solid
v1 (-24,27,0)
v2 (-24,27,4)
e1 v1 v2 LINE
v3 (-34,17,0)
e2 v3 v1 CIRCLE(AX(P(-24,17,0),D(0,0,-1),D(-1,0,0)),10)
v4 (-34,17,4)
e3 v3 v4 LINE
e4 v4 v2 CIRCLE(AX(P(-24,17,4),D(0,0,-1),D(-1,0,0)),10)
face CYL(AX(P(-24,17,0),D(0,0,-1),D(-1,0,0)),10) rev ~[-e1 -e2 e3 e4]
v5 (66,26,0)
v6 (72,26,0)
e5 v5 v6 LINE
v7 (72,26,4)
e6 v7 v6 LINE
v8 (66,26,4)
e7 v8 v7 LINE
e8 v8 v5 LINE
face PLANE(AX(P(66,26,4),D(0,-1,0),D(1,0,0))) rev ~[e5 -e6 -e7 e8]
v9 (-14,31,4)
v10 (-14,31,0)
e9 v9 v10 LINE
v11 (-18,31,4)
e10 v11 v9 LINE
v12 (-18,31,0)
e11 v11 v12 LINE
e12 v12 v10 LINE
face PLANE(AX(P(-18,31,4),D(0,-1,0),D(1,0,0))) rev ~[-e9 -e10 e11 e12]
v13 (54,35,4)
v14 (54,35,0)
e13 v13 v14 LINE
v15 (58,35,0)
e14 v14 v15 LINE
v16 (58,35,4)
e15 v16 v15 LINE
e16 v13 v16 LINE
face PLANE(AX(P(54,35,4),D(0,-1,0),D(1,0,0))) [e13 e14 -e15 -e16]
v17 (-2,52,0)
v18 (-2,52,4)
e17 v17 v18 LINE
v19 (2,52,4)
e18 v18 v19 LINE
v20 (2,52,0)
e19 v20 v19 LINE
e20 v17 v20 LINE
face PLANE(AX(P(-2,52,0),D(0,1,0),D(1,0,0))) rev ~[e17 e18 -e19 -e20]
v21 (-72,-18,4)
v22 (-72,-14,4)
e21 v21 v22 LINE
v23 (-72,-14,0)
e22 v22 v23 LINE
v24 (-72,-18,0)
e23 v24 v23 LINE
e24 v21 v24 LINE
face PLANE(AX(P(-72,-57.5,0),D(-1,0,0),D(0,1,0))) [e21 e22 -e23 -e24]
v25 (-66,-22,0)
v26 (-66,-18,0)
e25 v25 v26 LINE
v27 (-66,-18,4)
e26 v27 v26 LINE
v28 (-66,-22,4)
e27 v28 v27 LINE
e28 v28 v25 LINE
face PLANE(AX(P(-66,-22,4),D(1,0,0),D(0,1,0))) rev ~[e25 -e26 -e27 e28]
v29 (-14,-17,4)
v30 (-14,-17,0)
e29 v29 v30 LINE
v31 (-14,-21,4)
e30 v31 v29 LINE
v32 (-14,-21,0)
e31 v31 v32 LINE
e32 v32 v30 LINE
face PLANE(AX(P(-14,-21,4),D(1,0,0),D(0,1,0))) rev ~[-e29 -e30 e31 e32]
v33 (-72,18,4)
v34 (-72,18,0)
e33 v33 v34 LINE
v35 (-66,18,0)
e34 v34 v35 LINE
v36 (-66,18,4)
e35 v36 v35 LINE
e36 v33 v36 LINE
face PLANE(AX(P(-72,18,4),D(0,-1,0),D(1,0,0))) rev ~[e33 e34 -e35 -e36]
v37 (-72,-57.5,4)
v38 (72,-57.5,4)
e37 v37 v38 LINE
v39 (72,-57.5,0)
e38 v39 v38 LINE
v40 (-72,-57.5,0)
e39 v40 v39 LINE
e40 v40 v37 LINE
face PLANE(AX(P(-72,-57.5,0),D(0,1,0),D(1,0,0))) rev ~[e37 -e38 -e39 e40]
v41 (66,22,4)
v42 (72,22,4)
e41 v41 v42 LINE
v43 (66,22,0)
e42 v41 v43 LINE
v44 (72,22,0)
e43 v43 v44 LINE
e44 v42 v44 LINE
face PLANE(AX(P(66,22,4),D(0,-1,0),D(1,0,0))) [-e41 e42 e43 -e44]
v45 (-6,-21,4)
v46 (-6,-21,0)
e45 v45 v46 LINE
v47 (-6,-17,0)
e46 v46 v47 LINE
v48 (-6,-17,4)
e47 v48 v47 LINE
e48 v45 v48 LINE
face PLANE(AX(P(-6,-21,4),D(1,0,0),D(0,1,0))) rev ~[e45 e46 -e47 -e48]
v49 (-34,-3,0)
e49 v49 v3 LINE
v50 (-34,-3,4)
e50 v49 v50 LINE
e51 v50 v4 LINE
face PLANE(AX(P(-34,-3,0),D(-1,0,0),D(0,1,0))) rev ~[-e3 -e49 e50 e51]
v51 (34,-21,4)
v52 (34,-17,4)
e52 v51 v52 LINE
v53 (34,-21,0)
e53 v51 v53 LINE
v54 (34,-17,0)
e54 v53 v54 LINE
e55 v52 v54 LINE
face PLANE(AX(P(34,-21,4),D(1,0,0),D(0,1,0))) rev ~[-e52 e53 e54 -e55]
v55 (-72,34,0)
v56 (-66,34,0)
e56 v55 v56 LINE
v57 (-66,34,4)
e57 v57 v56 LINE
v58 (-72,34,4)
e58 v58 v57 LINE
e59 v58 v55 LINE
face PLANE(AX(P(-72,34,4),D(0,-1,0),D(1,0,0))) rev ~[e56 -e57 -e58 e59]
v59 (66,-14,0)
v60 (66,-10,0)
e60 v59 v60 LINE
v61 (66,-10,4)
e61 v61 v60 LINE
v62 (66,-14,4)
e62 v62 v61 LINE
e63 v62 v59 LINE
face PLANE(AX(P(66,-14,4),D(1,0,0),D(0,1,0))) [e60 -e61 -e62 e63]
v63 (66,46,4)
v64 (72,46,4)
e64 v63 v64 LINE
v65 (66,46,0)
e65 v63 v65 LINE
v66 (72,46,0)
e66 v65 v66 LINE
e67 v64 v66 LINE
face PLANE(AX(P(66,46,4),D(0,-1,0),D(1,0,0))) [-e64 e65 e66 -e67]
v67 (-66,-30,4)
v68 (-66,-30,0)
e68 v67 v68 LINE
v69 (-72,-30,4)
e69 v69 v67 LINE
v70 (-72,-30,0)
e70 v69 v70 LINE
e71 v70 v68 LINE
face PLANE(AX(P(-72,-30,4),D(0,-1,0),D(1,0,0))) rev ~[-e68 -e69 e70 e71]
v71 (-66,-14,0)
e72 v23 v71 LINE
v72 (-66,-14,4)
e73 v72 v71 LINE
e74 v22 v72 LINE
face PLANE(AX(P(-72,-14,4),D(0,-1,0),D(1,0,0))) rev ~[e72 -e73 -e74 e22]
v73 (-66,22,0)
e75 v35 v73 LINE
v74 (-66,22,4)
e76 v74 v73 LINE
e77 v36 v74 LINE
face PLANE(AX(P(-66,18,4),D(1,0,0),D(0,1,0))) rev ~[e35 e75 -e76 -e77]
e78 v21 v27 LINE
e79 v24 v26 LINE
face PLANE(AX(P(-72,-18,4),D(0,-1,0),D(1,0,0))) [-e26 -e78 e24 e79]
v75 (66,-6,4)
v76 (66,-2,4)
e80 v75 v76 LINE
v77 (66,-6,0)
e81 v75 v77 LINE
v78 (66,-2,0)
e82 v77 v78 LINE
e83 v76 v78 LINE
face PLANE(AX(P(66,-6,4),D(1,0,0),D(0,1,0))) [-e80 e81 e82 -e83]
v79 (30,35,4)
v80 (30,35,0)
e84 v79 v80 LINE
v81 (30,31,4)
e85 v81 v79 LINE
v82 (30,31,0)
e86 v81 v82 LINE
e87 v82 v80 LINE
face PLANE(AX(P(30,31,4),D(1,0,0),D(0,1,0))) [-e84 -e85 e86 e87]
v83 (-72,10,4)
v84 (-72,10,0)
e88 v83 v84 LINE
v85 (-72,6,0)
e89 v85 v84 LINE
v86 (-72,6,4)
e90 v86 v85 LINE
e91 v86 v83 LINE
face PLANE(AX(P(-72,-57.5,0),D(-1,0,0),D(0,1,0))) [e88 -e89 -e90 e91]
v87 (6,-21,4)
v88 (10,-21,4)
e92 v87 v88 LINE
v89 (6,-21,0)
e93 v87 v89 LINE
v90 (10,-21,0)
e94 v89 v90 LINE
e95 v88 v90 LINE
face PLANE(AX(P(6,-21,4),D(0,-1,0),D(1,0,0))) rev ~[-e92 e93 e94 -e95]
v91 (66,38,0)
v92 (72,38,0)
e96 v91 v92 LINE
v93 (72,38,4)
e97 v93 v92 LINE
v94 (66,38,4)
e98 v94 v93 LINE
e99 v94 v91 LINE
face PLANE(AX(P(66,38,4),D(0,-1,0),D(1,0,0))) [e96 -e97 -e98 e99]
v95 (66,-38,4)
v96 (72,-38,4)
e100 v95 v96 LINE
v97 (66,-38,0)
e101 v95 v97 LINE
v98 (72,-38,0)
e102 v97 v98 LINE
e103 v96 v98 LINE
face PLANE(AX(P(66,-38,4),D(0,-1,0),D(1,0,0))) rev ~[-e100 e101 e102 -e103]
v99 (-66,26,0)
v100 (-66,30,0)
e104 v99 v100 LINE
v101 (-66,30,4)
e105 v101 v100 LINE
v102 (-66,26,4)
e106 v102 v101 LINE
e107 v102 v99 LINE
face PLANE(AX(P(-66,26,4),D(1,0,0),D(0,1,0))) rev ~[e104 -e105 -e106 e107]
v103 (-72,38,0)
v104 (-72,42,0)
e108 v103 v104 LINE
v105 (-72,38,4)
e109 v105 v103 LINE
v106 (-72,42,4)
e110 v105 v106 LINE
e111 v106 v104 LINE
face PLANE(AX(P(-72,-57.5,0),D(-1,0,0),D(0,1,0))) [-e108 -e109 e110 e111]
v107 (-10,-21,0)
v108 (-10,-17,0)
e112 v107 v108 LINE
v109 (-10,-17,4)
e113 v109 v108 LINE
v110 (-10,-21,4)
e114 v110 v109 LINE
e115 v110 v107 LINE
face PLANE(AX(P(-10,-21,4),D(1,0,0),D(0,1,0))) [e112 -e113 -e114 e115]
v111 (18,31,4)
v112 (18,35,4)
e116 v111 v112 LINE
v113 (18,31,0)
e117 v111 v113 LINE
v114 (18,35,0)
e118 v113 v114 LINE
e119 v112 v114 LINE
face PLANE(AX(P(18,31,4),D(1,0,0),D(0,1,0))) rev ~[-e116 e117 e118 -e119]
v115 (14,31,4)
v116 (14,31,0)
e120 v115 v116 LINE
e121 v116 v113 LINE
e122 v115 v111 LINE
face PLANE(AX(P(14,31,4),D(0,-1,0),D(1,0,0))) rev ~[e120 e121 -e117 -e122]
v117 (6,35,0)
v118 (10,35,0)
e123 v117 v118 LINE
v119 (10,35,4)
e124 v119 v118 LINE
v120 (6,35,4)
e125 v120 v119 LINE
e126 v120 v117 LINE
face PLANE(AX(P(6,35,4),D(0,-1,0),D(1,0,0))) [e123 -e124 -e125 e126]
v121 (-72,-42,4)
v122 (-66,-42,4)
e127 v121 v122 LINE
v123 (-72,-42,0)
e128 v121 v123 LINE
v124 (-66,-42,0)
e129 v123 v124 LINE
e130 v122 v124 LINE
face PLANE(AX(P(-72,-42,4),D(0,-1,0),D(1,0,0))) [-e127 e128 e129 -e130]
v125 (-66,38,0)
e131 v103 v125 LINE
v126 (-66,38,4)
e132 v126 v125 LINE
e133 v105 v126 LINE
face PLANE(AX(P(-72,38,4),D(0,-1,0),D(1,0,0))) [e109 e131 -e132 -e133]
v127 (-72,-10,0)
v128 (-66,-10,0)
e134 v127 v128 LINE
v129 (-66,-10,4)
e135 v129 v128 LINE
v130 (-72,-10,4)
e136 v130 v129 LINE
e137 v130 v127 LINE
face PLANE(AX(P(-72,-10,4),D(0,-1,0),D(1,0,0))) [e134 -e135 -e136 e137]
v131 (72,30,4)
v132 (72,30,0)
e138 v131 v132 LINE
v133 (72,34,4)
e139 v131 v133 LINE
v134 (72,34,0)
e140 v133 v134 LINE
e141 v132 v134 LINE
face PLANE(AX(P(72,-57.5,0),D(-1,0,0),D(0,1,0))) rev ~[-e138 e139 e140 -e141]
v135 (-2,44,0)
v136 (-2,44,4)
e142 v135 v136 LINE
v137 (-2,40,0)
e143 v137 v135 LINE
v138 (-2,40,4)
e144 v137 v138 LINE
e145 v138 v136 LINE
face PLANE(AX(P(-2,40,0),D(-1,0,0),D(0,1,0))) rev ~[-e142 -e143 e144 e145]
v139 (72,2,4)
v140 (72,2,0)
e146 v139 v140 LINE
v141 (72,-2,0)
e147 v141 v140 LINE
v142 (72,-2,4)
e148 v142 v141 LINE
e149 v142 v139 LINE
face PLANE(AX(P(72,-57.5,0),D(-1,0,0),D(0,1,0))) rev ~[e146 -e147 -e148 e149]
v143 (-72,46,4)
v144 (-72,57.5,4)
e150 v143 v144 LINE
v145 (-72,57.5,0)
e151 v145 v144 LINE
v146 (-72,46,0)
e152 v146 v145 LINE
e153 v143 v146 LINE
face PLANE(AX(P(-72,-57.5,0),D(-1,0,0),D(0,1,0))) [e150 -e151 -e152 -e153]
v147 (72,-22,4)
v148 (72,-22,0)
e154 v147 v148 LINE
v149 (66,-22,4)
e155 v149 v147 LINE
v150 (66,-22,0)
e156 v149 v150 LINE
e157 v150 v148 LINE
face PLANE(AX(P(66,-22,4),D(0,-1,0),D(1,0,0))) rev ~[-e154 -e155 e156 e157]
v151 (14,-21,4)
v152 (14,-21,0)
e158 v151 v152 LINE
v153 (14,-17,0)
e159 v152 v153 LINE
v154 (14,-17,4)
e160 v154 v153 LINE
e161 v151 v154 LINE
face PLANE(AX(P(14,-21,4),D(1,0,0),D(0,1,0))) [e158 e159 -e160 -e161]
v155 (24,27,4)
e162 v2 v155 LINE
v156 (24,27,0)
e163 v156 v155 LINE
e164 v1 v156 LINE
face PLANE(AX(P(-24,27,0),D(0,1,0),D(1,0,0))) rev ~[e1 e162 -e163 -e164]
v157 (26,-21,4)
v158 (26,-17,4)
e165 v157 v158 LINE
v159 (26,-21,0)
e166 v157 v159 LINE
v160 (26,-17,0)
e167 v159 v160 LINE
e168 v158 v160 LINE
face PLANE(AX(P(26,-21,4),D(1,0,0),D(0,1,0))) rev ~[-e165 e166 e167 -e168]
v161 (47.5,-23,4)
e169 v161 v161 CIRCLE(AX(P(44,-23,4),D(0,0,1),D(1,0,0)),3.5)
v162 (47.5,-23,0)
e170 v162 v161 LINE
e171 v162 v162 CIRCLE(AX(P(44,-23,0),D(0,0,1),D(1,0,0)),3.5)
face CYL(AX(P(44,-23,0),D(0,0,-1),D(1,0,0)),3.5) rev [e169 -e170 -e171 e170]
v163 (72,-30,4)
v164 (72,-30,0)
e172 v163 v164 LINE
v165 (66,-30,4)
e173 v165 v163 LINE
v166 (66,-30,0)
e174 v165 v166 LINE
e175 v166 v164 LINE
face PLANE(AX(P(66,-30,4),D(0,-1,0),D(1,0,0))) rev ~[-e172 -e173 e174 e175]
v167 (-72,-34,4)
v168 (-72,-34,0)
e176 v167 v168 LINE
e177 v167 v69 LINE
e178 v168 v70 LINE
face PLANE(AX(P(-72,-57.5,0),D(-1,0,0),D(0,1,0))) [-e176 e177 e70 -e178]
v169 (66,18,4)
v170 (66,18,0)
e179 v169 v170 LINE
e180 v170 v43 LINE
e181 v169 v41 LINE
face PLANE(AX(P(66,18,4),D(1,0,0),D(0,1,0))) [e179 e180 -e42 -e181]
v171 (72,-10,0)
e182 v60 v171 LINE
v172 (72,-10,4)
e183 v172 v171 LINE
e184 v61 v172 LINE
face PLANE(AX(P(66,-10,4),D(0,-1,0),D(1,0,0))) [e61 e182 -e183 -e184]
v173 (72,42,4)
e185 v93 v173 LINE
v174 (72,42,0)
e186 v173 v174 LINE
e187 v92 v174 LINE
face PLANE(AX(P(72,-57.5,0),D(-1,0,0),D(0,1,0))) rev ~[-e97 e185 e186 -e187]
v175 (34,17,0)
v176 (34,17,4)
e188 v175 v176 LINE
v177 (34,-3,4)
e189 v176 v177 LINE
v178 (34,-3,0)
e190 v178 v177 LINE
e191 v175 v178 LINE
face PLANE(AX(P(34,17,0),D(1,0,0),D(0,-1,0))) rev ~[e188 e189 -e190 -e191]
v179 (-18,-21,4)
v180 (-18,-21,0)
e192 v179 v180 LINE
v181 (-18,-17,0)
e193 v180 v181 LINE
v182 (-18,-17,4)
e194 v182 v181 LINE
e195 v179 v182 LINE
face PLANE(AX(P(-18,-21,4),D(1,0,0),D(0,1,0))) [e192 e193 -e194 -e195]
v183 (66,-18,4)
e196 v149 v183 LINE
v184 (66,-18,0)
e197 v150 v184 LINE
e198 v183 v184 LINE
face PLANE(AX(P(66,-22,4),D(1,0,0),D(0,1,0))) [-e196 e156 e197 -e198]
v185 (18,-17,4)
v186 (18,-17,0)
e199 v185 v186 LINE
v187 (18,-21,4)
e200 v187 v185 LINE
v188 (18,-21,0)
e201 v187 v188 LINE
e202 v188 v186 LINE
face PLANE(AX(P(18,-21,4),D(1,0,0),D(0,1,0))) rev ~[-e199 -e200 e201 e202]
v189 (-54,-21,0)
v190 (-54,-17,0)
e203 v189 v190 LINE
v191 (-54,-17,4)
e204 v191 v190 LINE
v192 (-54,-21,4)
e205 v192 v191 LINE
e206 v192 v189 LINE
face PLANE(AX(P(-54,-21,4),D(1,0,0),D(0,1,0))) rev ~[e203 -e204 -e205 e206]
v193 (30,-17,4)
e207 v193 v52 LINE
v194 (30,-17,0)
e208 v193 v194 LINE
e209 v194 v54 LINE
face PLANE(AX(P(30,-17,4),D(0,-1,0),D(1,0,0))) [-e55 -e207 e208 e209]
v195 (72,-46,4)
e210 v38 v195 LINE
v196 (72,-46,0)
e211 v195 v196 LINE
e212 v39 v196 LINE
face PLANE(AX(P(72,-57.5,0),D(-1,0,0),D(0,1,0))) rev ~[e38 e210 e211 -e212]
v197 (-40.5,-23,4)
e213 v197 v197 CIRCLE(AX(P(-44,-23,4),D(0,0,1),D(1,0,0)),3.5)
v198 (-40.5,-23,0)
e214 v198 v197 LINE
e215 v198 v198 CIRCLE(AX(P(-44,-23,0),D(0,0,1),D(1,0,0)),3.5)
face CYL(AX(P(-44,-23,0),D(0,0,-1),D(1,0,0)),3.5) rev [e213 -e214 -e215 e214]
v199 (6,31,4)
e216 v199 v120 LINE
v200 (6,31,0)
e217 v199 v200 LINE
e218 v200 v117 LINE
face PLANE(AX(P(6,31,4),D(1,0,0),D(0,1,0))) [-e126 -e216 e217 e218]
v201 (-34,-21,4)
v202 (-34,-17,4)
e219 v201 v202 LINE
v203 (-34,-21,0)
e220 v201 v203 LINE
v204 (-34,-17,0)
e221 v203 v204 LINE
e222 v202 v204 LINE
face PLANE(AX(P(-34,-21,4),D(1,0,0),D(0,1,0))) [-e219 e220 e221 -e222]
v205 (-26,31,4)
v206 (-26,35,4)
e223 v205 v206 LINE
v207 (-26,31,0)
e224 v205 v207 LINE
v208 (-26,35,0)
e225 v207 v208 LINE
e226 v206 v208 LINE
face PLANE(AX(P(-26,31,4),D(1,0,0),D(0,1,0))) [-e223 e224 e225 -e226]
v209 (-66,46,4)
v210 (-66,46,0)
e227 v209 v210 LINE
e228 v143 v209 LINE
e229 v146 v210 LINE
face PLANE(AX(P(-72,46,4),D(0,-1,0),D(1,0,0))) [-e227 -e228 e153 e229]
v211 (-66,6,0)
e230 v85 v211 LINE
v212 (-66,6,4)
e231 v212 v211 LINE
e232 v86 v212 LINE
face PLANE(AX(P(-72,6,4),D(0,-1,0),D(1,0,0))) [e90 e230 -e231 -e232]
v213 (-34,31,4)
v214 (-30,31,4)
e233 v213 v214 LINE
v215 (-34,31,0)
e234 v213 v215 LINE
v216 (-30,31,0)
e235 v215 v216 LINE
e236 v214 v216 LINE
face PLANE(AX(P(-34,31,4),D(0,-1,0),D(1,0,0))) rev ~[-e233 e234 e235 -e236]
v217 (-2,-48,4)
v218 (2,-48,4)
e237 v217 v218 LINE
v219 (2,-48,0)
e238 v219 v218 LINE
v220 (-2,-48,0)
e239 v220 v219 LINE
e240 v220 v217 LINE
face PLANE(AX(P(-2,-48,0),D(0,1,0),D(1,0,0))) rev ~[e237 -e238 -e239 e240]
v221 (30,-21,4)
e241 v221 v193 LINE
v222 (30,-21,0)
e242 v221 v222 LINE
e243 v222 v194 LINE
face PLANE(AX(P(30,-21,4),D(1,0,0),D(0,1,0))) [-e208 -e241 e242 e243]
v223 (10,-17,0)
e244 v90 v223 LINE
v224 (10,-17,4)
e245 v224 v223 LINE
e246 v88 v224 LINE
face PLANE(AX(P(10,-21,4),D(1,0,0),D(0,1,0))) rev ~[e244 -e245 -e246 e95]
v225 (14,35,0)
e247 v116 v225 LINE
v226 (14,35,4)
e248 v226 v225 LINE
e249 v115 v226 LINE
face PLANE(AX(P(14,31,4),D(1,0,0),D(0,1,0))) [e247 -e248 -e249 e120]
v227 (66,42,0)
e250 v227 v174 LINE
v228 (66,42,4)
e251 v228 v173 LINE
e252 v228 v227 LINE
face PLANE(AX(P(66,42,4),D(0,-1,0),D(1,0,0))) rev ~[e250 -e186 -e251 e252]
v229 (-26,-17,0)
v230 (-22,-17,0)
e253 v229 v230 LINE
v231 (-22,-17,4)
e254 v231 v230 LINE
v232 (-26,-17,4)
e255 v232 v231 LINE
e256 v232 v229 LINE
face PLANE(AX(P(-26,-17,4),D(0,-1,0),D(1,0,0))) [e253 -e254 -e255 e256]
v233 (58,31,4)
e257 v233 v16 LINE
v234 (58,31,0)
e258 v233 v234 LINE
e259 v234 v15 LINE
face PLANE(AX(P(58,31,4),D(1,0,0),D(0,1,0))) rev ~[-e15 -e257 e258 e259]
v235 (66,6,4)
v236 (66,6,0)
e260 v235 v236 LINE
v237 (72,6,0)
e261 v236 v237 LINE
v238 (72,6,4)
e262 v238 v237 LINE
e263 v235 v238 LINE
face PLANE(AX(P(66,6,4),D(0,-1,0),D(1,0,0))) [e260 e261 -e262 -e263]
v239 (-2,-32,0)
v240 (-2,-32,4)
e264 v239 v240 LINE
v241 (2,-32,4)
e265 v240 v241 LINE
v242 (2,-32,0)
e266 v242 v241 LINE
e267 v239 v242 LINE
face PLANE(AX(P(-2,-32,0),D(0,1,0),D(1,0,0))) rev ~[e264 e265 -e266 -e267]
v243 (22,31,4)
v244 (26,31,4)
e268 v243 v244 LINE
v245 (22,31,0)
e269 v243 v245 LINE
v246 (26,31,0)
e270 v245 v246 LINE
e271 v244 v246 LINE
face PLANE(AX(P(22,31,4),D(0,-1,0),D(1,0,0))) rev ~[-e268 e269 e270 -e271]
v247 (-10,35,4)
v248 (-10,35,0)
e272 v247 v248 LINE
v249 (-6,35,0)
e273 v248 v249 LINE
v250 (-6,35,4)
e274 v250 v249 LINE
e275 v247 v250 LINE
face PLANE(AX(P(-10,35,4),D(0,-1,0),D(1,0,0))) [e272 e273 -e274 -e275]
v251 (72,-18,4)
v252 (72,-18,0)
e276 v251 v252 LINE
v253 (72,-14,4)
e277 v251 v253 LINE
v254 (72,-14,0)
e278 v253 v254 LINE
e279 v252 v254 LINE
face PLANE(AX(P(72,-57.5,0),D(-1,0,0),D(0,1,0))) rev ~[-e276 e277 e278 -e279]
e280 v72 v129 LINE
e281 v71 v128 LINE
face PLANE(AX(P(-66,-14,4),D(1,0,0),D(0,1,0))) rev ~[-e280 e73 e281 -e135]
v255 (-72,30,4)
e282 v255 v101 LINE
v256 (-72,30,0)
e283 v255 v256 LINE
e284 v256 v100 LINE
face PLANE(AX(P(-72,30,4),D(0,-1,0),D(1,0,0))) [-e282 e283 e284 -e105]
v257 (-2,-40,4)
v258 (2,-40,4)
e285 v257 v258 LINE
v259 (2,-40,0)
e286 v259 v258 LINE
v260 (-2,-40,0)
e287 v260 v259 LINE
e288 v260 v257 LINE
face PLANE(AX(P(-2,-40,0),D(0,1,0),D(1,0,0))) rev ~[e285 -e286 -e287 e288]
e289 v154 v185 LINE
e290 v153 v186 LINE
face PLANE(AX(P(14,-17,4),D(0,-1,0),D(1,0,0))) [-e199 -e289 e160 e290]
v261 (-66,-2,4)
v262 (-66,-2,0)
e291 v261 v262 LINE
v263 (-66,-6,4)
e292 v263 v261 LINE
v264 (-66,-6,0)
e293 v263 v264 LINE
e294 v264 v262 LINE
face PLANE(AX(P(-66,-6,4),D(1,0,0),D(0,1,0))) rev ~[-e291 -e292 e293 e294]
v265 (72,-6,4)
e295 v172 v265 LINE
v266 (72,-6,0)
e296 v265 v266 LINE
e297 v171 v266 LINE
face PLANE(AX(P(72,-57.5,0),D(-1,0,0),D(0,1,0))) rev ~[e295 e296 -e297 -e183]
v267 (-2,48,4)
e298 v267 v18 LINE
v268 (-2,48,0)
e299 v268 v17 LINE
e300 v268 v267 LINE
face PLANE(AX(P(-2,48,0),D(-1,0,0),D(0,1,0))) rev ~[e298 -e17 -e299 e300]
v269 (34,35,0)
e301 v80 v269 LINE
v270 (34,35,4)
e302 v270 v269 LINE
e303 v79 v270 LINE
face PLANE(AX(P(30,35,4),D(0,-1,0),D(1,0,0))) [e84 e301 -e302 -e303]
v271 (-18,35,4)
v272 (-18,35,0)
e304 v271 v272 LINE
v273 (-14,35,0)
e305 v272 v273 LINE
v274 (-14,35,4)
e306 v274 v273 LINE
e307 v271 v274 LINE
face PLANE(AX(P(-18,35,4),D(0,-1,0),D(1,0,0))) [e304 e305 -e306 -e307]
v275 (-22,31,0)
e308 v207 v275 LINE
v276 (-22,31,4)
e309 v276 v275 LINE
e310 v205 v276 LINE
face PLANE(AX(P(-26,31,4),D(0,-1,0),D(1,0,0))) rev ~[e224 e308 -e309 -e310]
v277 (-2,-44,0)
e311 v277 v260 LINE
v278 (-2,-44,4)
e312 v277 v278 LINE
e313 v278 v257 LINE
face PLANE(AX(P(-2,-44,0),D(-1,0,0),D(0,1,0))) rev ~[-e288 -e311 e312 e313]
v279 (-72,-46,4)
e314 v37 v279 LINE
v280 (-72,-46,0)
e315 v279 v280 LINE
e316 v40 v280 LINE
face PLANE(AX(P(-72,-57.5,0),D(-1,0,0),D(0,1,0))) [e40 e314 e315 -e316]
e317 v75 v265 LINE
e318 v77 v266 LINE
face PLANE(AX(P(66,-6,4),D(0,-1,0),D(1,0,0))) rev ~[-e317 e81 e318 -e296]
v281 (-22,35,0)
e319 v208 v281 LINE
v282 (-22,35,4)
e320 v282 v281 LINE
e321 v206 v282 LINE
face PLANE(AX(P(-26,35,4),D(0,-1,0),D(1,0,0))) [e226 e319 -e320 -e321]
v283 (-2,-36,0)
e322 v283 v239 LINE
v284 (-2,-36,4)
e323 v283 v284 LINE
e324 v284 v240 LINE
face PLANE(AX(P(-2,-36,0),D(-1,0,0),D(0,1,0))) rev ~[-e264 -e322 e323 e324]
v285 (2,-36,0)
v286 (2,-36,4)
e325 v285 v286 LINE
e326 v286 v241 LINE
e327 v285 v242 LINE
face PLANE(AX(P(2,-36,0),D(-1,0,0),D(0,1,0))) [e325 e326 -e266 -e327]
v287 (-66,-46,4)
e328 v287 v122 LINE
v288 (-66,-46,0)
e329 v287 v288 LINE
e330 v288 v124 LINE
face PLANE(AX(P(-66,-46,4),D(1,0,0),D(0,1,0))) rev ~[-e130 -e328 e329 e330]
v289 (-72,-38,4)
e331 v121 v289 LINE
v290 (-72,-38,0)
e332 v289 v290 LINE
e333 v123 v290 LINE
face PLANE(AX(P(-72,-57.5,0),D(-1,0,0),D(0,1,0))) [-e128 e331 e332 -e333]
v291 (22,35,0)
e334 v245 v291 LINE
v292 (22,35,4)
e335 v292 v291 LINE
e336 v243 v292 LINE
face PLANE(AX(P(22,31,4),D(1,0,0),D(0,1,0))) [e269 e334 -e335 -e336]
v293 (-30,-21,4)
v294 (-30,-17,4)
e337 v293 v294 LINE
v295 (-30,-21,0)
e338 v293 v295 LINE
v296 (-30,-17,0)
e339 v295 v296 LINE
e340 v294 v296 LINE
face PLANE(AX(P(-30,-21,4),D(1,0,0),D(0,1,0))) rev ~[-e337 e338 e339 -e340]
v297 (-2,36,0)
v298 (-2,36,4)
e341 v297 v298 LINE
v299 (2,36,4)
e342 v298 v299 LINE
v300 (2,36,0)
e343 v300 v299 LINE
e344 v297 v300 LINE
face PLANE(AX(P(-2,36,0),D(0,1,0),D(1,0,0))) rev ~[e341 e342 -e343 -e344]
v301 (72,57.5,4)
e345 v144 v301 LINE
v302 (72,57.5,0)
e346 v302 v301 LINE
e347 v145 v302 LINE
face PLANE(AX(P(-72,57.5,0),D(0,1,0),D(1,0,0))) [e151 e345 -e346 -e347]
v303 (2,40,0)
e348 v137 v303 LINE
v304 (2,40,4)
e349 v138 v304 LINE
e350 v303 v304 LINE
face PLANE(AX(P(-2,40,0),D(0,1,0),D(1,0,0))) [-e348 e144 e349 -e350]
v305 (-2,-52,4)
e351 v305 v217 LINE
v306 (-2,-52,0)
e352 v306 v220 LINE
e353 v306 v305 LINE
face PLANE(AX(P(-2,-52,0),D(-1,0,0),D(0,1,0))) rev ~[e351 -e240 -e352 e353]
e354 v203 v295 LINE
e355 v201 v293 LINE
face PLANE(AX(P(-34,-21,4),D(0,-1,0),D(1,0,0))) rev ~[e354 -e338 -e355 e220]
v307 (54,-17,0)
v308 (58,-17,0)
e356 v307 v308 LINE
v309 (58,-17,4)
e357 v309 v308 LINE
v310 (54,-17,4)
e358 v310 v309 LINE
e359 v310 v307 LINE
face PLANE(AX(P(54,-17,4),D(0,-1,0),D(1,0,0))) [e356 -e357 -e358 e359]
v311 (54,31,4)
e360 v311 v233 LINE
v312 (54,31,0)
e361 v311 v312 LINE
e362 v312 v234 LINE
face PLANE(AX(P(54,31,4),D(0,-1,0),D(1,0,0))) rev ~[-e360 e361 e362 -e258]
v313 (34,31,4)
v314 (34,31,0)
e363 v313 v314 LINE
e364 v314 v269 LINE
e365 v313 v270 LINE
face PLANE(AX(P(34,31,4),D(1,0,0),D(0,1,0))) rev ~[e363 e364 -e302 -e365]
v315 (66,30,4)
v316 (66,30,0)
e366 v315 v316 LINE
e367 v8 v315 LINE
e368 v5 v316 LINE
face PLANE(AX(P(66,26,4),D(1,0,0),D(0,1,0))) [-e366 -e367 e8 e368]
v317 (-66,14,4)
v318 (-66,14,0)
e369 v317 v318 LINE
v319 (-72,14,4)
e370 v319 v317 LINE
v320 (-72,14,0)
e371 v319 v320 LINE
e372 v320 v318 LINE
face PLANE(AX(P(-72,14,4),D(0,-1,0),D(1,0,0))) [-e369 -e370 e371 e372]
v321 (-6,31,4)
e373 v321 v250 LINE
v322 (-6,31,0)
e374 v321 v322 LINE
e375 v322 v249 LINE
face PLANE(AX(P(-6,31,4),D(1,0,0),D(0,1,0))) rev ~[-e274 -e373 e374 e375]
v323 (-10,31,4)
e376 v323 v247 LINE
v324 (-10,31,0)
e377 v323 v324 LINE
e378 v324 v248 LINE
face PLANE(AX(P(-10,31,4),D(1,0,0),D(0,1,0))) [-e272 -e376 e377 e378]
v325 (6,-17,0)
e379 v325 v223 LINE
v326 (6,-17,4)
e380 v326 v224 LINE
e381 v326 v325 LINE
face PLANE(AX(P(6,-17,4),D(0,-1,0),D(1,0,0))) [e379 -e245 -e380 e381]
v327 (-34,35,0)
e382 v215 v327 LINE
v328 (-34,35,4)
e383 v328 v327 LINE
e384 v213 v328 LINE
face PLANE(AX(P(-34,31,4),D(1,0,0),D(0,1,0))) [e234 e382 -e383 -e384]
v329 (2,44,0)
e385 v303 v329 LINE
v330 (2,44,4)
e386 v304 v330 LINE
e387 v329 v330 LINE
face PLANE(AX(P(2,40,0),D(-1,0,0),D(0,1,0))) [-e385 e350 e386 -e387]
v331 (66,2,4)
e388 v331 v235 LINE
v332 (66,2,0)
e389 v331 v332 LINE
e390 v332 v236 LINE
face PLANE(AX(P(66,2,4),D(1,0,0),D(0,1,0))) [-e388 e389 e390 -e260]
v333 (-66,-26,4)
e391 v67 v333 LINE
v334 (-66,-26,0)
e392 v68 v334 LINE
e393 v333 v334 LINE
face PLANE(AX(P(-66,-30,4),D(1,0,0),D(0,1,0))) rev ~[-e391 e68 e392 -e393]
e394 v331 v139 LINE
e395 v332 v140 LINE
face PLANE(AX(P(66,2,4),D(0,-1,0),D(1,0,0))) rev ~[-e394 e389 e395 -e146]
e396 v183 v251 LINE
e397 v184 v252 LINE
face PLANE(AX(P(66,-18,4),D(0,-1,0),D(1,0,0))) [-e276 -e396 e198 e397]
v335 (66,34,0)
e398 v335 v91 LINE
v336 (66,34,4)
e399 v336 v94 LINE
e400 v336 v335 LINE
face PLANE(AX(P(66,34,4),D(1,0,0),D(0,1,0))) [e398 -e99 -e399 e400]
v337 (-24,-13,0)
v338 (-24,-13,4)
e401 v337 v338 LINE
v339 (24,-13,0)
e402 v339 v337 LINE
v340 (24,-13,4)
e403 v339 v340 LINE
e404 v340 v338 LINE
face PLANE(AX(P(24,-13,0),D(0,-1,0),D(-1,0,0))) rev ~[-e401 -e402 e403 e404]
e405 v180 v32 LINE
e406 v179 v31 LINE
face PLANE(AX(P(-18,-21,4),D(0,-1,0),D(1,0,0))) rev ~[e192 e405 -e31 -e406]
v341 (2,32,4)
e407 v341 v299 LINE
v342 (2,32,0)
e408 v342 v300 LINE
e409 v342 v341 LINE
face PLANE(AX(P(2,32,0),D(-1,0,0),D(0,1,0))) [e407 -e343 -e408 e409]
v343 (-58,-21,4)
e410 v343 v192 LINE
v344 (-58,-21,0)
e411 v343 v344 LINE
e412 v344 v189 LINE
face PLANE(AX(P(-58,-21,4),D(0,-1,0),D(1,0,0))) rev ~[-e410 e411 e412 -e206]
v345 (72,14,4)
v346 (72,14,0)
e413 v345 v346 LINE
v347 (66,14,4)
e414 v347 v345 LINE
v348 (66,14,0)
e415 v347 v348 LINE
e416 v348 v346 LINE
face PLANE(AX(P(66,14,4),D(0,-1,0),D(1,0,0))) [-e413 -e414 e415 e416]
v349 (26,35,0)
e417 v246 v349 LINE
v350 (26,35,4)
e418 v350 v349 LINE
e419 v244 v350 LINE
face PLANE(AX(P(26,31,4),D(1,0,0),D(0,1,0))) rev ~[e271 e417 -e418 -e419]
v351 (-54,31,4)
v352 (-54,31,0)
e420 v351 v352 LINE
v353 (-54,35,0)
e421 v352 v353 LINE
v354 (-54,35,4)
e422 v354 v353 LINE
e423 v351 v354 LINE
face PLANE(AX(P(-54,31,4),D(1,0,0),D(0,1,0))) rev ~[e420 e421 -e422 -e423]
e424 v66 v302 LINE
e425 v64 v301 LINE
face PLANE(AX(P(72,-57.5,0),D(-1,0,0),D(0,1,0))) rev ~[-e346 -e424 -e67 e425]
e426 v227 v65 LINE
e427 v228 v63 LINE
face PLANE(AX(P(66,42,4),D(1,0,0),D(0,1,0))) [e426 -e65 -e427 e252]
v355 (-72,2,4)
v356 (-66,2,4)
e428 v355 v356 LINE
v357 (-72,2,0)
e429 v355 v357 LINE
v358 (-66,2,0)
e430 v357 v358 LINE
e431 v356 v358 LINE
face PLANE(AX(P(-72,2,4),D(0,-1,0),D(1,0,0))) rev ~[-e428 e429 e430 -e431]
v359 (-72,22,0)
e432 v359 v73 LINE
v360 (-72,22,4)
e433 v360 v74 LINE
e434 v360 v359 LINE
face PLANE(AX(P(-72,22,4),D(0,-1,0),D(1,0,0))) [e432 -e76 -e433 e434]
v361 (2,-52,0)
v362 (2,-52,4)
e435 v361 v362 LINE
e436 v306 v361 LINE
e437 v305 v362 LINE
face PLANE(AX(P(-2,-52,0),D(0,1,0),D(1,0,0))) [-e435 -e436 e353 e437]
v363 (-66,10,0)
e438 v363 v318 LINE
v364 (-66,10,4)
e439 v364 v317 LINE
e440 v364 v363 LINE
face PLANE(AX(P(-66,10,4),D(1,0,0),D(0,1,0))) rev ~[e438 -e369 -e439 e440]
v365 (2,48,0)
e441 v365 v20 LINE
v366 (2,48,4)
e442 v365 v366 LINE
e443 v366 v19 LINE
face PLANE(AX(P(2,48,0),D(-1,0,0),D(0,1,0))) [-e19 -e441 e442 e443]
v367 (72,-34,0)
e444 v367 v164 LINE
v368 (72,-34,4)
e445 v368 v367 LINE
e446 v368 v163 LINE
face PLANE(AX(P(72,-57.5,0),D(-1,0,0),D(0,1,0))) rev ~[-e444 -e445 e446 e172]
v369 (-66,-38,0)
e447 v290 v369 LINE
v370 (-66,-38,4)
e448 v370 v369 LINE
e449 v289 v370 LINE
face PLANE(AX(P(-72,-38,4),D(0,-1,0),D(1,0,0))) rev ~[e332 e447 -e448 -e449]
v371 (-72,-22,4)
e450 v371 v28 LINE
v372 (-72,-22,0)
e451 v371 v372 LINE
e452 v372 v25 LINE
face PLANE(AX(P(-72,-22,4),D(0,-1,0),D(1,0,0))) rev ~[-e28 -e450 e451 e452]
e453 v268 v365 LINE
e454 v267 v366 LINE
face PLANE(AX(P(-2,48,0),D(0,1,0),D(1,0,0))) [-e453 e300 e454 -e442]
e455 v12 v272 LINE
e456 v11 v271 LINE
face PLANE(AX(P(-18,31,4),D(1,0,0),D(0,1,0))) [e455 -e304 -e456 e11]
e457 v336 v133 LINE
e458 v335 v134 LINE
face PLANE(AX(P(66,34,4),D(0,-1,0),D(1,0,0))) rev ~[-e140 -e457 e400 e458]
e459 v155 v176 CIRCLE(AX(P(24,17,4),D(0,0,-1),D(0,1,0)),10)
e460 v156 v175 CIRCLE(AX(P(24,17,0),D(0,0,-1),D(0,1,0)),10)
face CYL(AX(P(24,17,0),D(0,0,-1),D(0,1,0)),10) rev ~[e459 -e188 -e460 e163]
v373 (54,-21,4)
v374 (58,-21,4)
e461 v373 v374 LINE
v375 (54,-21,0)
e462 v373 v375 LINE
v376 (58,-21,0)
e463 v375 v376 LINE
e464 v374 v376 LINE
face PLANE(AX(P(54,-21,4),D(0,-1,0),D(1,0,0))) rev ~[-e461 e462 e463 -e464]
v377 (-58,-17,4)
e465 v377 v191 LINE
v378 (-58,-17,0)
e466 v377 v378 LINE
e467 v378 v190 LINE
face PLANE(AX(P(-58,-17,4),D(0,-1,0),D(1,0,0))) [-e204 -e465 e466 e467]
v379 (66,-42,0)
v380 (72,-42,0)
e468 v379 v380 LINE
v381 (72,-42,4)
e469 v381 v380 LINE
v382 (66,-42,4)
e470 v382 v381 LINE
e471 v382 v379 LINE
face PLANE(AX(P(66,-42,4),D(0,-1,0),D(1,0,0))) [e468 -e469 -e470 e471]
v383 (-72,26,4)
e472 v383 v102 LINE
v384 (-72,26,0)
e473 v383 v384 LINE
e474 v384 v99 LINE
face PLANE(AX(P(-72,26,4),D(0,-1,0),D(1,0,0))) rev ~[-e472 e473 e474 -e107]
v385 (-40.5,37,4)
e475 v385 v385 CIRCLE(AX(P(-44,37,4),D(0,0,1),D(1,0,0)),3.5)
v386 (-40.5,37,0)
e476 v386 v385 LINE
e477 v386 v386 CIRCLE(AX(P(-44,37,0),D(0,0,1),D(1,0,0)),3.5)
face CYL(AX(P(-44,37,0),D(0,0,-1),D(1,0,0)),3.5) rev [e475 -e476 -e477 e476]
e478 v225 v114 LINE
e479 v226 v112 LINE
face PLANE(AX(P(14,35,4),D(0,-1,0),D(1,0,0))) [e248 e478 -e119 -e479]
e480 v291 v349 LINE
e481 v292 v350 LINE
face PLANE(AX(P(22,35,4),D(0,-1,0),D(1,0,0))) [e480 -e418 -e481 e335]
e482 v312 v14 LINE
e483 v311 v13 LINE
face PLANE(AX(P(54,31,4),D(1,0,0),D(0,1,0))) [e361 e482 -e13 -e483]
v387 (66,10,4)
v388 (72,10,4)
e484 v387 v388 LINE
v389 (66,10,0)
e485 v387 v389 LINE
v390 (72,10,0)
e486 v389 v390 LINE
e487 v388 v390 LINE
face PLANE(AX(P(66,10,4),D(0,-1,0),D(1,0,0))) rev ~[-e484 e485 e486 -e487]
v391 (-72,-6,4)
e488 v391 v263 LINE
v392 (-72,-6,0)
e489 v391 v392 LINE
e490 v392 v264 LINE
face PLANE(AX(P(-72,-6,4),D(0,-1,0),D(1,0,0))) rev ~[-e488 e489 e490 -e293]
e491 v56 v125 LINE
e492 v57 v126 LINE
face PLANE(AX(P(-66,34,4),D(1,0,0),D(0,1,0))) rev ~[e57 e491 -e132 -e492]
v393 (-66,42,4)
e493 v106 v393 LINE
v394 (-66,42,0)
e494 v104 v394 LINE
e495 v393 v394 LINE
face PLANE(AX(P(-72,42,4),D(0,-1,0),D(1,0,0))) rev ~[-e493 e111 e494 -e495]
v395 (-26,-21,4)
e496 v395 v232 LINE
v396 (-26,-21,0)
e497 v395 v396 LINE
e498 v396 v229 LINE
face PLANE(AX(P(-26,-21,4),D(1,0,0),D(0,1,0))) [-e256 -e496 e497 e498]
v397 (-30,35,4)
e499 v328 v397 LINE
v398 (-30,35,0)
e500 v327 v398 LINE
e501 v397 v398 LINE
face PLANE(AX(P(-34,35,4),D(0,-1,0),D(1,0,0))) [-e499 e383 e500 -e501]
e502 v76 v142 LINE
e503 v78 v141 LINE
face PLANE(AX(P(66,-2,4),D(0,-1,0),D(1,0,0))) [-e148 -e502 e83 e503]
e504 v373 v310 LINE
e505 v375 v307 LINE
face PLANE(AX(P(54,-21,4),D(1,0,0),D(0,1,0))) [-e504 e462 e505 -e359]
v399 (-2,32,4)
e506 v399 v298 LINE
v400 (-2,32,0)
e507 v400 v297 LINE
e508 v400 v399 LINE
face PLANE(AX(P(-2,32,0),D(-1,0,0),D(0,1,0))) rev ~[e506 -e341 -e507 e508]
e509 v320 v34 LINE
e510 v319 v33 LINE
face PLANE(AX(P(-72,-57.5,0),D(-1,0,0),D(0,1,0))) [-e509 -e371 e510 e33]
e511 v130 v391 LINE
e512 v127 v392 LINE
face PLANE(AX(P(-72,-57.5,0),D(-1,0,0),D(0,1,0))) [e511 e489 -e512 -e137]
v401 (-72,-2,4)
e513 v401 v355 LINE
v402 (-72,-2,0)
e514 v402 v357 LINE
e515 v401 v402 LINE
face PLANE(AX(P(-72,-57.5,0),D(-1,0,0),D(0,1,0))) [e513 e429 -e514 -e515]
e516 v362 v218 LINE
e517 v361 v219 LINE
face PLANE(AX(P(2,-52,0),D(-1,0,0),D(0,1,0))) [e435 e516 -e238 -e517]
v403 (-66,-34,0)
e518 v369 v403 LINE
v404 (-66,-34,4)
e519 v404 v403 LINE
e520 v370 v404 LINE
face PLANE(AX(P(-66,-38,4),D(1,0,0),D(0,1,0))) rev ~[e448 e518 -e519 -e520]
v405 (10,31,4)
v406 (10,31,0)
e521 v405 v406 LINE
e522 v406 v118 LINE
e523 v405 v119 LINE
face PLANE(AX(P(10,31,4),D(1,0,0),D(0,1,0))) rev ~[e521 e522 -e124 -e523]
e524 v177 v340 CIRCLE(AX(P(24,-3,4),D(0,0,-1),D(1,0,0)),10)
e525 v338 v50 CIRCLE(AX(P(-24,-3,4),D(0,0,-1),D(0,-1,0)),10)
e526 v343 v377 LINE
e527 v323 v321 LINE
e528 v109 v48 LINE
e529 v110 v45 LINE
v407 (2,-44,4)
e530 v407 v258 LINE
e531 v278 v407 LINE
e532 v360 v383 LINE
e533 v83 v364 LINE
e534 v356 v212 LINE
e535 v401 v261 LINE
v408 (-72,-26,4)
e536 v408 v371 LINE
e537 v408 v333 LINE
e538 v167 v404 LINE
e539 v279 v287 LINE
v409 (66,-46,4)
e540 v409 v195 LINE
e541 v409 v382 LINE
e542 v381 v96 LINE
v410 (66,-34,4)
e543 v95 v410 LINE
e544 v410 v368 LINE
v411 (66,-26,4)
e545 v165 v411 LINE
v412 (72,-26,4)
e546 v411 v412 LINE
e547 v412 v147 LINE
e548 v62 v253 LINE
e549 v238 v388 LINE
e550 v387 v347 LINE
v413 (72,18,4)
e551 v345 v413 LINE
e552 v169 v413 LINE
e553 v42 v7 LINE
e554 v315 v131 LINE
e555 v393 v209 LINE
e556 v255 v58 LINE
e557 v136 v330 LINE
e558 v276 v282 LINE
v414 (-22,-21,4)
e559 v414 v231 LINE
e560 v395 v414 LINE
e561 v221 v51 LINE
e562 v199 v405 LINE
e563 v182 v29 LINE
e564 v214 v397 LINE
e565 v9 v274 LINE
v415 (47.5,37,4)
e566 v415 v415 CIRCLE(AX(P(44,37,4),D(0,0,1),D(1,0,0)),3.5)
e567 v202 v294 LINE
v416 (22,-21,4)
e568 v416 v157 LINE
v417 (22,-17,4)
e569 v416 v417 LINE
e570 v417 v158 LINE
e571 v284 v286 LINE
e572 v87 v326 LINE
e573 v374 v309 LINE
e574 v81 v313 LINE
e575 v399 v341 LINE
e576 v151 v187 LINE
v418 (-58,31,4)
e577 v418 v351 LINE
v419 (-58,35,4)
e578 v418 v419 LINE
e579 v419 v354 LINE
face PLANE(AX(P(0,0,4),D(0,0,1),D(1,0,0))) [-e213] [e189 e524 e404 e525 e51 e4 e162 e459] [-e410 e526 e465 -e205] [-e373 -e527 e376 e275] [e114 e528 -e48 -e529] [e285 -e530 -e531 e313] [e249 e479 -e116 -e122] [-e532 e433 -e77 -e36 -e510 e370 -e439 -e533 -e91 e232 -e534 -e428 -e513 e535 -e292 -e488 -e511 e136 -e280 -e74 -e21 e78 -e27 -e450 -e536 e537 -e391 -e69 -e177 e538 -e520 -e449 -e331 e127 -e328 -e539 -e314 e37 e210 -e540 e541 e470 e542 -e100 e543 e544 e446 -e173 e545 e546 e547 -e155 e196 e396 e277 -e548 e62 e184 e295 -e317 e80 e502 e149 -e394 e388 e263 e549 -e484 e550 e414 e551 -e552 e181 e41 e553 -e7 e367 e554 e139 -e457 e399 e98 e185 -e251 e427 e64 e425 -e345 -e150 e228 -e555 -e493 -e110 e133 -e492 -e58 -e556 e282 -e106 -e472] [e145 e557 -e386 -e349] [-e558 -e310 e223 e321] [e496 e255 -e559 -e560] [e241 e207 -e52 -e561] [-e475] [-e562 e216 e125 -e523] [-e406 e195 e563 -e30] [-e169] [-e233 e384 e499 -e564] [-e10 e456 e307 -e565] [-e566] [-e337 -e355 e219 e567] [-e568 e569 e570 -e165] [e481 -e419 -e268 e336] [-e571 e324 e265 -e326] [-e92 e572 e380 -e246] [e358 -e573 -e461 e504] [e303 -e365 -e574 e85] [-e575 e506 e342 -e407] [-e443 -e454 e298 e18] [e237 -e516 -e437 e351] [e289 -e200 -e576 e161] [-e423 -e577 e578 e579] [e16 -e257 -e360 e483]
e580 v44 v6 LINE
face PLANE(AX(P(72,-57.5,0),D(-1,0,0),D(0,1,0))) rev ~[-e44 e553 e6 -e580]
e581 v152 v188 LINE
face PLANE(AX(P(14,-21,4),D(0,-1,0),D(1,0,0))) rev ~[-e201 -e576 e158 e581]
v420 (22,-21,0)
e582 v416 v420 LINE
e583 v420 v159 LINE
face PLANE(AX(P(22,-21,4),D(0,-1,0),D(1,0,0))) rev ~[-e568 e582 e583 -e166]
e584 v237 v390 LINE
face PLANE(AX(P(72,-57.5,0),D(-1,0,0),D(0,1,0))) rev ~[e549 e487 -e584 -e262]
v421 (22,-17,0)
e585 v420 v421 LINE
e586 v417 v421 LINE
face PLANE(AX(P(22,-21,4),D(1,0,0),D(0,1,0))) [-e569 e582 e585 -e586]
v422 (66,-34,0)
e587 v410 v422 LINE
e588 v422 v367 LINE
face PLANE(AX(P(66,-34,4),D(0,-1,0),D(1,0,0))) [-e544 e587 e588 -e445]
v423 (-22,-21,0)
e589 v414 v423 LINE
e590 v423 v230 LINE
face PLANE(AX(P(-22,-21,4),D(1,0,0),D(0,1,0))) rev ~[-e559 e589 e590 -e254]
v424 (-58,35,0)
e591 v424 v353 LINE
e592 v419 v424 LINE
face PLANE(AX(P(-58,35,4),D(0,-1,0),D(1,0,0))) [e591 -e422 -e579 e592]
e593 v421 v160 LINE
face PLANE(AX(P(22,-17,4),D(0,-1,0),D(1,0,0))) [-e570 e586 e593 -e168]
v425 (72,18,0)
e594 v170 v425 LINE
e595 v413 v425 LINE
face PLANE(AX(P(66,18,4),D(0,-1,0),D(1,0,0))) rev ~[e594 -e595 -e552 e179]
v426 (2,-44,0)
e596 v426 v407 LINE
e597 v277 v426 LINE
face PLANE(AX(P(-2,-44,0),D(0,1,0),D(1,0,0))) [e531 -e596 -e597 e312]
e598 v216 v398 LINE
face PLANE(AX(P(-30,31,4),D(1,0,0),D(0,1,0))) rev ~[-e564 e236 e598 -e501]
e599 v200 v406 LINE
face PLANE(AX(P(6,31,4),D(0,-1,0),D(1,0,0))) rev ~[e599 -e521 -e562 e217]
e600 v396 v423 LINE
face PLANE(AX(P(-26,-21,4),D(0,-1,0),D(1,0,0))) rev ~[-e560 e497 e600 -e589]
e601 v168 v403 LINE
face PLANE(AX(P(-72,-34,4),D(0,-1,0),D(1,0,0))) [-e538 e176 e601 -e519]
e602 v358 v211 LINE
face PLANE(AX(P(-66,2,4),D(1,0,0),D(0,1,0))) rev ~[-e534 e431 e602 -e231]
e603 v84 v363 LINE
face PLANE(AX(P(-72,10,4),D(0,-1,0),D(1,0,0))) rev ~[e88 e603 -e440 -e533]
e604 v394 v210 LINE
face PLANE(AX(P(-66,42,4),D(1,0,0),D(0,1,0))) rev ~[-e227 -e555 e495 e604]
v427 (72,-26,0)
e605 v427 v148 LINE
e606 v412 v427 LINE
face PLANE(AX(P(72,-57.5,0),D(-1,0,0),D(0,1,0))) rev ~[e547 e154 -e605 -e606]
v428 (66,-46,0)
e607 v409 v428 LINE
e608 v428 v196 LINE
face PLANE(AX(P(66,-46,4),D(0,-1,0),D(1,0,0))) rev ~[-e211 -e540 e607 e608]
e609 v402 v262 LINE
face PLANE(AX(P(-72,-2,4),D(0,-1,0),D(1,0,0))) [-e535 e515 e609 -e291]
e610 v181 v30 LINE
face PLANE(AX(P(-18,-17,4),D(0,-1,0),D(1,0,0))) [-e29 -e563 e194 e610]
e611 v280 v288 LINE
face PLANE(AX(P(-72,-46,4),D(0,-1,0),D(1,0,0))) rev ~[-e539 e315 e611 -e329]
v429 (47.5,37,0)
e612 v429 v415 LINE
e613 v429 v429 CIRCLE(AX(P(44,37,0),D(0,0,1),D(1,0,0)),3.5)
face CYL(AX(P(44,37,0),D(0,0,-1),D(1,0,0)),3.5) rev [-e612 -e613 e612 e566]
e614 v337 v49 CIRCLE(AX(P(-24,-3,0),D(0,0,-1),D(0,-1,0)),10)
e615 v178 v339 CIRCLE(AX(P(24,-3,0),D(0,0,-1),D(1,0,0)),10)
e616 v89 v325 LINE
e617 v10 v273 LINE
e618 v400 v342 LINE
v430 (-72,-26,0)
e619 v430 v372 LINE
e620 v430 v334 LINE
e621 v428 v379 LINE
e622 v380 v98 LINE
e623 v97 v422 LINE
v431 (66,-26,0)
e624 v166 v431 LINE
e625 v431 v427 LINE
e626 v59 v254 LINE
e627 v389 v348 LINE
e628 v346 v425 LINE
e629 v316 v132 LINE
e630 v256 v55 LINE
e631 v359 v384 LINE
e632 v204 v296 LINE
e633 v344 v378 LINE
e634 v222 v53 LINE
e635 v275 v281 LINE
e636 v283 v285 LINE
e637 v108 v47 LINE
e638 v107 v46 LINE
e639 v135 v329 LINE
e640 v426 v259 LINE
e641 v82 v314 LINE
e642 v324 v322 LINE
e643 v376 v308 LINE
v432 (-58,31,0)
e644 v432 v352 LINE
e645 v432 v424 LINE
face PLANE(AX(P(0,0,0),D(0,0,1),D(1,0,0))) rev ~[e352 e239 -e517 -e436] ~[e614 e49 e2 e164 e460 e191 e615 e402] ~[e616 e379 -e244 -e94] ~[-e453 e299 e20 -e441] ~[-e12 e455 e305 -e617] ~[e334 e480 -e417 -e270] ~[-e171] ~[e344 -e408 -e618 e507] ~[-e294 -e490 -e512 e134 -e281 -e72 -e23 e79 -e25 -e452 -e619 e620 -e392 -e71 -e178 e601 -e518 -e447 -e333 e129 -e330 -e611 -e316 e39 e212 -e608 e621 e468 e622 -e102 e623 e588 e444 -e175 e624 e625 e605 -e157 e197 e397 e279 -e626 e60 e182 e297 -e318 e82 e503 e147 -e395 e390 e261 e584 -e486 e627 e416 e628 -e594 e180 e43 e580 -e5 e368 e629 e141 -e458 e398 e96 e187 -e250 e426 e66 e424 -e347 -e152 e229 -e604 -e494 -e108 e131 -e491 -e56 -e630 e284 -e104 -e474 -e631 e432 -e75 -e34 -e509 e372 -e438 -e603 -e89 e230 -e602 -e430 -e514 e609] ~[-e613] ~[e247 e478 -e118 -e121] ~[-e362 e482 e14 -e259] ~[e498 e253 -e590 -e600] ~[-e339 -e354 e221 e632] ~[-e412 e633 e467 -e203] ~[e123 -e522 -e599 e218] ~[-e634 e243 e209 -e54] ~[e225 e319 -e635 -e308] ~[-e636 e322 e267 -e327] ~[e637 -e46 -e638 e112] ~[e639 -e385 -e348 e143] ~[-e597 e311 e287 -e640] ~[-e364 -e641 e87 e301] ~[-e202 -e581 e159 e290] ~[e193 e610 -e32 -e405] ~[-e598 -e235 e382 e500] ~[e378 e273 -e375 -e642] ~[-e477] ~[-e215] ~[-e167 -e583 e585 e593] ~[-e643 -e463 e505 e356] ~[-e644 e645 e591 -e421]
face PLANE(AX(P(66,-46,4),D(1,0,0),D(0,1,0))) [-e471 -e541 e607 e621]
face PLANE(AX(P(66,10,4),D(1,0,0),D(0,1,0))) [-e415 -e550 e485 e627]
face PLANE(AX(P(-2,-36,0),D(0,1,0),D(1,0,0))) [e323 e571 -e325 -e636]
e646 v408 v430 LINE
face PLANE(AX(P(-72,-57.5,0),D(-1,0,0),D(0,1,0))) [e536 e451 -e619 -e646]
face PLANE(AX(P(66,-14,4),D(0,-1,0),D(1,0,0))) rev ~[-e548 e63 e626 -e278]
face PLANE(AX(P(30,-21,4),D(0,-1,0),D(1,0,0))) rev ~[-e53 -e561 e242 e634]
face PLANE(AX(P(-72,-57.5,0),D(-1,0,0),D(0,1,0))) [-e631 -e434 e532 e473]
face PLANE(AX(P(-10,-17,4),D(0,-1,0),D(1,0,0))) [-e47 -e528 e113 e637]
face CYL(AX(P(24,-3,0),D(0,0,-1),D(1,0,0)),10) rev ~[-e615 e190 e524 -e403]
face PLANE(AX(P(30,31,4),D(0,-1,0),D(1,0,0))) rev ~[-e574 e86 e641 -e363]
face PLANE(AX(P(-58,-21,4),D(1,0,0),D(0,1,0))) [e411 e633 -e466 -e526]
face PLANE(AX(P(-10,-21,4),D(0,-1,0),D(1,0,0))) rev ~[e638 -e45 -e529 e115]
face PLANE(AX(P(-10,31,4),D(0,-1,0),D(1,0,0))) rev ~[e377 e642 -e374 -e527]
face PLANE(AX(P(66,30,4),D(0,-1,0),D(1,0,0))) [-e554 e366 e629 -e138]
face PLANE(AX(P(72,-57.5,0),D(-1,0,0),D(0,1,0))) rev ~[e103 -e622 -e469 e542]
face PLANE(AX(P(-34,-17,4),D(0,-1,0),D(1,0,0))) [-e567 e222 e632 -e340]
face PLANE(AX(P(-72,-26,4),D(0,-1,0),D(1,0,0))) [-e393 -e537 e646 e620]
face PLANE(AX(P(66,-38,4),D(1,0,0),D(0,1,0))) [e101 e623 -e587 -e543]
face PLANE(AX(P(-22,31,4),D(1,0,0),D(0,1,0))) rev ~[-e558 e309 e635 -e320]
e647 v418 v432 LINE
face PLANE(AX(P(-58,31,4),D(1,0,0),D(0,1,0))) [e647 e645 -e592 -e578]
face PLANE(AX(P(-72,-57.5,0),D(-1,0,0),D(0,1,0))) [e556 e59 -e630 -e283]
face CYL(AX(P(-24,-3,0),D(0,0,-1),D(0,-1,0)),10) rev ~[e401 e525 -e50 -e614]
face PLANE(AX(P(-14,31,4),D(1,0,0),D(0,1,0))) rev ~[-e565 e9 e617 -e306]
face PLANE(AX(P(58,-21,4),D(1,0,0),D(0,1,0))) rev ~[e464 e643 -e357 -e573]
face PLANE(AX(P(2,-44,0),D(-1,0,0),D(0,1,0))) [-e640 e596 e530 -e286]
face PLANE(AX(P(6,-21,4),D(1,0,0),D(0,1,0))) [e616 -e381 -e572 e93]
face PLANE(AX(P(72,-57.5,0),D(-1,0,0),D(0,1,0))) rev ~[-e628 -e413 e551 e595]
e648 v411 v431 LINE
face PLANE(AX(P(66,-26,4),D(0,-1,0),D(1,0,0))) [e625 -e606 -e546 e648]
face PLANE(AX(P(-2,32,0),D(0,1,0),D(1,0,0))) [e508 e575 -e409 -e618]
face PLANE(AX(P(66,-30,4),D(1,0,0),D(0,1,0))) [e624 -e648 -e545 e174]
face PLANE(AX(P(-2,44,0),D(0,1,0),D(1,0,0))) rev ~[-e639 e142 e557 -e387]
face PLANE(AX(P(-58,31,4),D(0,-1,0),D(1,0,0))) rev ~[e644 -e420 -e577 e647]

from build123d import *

# Parameters (mm, degrees)
SKETCH1_W           = 144
SKETCH1_H           = 115
SKETCH1_R           = 3.5
SKETCH1_W_2         = 4
SKETCH1_H_2         = 4
BOSS_EXTRUDE1_DEPTH = 4
SKETCH2_W           = 6
SKETCH2_H           = 4
CUT_EXTRUDE1_DEPTH  = 4
SKETCH4_W           = 4
SKETCH4_H           = 4
CUT_EXTRUDE2_DEPTH  = 10


with BuildPart() as part:
    # Sketch1 → Boss-Extrude1 (new body)
    with BuildSketch(Plane.XY):
        Rectangle(SKETCH1_W, SKETCH1_H)
        with Locations((-44, 37)):
            Circle(SKETCH1_R, mode=Mode.SUBTRACT)
        with Locations((44, 37)):
            Circle(SKETCH1_R, mode=Mode.SUBTRACT)
        with Locations((44, -23)):
            Circle(SKETCH1_R, mode=Mode.SUBTRACT)
        with Locations((-44, -23)):
            Circle(SKETCH1_R, mode=Mode.SUBTRACT)
        with Locations((0, 42)):
            Rectangle(SKETCH1_W_2, SKETCH1_H_2, mode=Mode.SUBTRACT)
        with BuildLine():
            Line((-24, 27), (24, 27))
            ThreePointArc((24, 27), (31.071067812, 24.071067812), (34, 17))
            Line((34, 17), (34, -3))
            ThreePointArc((34, -3), (31.071067812, -10.071067812), (24, -13))
            Line((24, -13), (-24, -13))
            ThreePointArc((-24, -13), (-31.071067812, -10.071067812), (-34, -3))
            Line((-34, -3), (-34, 17))
            ThreePointArc((-34, 17), (-31.071067812, 24.071067812), (-24, 27))
        make_face(mode=Mode.SUBTRACT)
        with Locations((0, 50)):
            Rectangle(SKETCH1_W_2, SKETCH1_H_2, mode=Mode.SUBTRACT)
        with Locations((0, 34)):
            Rectangle(SKETCH1_W_2, SKETCH1_H_2, mode=Mode.SUBTRACT)
        with Locations((0, -34)):
            Rectangle(SKETCH1_W_2, SKETCH1_H_2, mode=Mode.SUBTRACT)
        with Locations((0, -42)):
            Rectangle(SKETCH1_W_2, SKETCH1_H_2, mode=Mode.SUBTRACT)
        with Locations((0, -50)):
            Rectangle(SKETCH1_W_2, SKETCH1_H_2, mode=Mode.SUBTRACT)
    extrude(amount=BOSS_EXTRUDE1_DEPTH)

    # Sketch2 → Cut-Extrude1 (cut)
    with BuildSketch(Plane.XY.offset(4)):
        with Locations((-69, 12)):
            Rectangle(SKETCH2_W, SKETCH2_H)
        with Locations((-69, 4)):
            Rectangle(SKETCH2_W, SKETCH2_H)
        with Locations((-69, 20)):
            Rectangle(SKETCH2_W, SKETCH2_H)
        with Locations((-69, 28)):
            Rectangle(SKETCH2_W, SKETCH2_H)
        with Locations((-69, 36)):
            Rectangle(SKETCH2_W, SKETCH2_H)
        with Locations((-69, 44)):
            Rectangle(SKETCH2_W, SKETCH2_H)
        with Locations((69, 44)):
            Rectangle(SKETCH2_W, SKETCH2_H)
        with Locations((69, 36)):
            Rectangle(SKETCH2_W, SKETCH2_H)
        with Locations((69, 28)):
            Rectangle(SKETCH2_W, SKETCH2_H)
        with Locations((69, 20)):
            Rectangle(SKETCH2_W, SKETCH2_H)
        with Locations((69, 4)):
            Rectangle(SKETCH2_W, SKETCH2_H)
        with Locations((69, 12)):
            Rectangle(SKETCH2_W, SKETCH2_H)
        with Locations((69, -12)):
            Rectangle(SKETCH2_W, SKETCH2_H)
        with Locations((69, -4)):
            Rectangle(SKETCH2_W, SKETCH2_H)
        with Locations((69, -20)):
            Rectangle(SKETCH2_W, SKETCH2_H)
        with Locations((69, -28)):
            Rectangle(SKETCH2_W, SKETCH2_H)
        with Locations((69, -36)):
            Rectangle(SKETCH2_W, SKETCH2_H)
        with Locations((69, -44)):
            Rectangle(SKETCH2_W, SKETCH2_H)
        with Locations((-69, -44)):
            Rectangle(SKETCH2_W, SKETCH2_H)
        with Locations((-69, -36)):
            Rectangle(SKETCH2_W, SKETCH2_H)
        with Locations((-69, -28)):
            Rectangle(SKETCH2_W, SKETCH2_H)
        with Locations((-69, -20)):
            Rectangle(SKETCH2_W, SKETCH2_H)
        with Locations((-69, -4)):
            Rectangle(SKETCH2_W, SKETCH2_H)
        with Locations((-69, -12)):
            Rectangle(SKETCH2_W, SKETCH2_H)
    extrude(amount=-CUT_EXTRUDE1_DEPTH, mode=Mode.SUBTRACT)

    # Sketch4 → Cut-Extrude2 (cut)
    with BuildSketch(Plane.XY.offset(4)):
        with Locations((8, -19)):
            Rectangle(SKETCH4_W, SKETCH4_H)
        with Locations((16, -19)):
            Rectangle(SKETCH4_W, SKETCH4_H)
        with Locations((24, -19)):
            Rectangle(SKETCH4_W, SKETCH4_H)
        with Locations((32, -19)):
            Rectangle(SKETCH4_W, SKETCH4_H)
        with Locations((56, -19)):
            Rectangle(SKETCH4_W, SKETCH4_H)
        with Locations((-56, -19)):
            Rectangle(SKETCH4_W, SKETCH4_H)
        with Locations((-32, -19)):
            Rectangle(SKETCH4_W, SKETCH4_H)
        with Locations((-24, -19)):
            Rectangle(SKETCH4_W, SKETCH4_H)
        with Locations((-16, -19)):
            Rectangle(SKETCH4_W, SKETCH4_H)
        with Locations((-8, -19)):
            Rectangle(SKETCH4_W, SKETCH4_H)
        with Locations((8, 33)):
            Rectangle(SKETCH4_W, SKETCH4_H)
        with Locations((16, 33)):
            Rectangle(SKETCH4_W, SKETCH4_H)
        with Locations((24, 33)):
            Rectangle(SKETCH4_W, SKETCH4_H)
        with Locations((32, 33)):
            Rectangle(SKETCH4_W, SKETCH4_H)
        with Locations((-56, 33)):
            Rectangle(SKETCH4_W, SKETCH4_H)
        with Locations((-32, 33)):
            Rectangle(SKETCH4_W, SKETCH4_H)
        with Locations((56, 33)):
            Rectangle(SKETCH4_W, SKETCH4_H)
        with Locations((-24, 33)):
            Rectangle(SKETCH4_W, SKETCH4_H)
        with Locations((-16, 33)):
            Rectangle(SKETCH4_W, SKETCH4_H)
        with Locations((-8, 33)):
            Rectangle(SKETCH4_W, SKETCH4_H)
    extrude(amount=-CUT_EXTRUDE2_DEPTH, mode=Mode.SUBTRACT)


solid = part.part
